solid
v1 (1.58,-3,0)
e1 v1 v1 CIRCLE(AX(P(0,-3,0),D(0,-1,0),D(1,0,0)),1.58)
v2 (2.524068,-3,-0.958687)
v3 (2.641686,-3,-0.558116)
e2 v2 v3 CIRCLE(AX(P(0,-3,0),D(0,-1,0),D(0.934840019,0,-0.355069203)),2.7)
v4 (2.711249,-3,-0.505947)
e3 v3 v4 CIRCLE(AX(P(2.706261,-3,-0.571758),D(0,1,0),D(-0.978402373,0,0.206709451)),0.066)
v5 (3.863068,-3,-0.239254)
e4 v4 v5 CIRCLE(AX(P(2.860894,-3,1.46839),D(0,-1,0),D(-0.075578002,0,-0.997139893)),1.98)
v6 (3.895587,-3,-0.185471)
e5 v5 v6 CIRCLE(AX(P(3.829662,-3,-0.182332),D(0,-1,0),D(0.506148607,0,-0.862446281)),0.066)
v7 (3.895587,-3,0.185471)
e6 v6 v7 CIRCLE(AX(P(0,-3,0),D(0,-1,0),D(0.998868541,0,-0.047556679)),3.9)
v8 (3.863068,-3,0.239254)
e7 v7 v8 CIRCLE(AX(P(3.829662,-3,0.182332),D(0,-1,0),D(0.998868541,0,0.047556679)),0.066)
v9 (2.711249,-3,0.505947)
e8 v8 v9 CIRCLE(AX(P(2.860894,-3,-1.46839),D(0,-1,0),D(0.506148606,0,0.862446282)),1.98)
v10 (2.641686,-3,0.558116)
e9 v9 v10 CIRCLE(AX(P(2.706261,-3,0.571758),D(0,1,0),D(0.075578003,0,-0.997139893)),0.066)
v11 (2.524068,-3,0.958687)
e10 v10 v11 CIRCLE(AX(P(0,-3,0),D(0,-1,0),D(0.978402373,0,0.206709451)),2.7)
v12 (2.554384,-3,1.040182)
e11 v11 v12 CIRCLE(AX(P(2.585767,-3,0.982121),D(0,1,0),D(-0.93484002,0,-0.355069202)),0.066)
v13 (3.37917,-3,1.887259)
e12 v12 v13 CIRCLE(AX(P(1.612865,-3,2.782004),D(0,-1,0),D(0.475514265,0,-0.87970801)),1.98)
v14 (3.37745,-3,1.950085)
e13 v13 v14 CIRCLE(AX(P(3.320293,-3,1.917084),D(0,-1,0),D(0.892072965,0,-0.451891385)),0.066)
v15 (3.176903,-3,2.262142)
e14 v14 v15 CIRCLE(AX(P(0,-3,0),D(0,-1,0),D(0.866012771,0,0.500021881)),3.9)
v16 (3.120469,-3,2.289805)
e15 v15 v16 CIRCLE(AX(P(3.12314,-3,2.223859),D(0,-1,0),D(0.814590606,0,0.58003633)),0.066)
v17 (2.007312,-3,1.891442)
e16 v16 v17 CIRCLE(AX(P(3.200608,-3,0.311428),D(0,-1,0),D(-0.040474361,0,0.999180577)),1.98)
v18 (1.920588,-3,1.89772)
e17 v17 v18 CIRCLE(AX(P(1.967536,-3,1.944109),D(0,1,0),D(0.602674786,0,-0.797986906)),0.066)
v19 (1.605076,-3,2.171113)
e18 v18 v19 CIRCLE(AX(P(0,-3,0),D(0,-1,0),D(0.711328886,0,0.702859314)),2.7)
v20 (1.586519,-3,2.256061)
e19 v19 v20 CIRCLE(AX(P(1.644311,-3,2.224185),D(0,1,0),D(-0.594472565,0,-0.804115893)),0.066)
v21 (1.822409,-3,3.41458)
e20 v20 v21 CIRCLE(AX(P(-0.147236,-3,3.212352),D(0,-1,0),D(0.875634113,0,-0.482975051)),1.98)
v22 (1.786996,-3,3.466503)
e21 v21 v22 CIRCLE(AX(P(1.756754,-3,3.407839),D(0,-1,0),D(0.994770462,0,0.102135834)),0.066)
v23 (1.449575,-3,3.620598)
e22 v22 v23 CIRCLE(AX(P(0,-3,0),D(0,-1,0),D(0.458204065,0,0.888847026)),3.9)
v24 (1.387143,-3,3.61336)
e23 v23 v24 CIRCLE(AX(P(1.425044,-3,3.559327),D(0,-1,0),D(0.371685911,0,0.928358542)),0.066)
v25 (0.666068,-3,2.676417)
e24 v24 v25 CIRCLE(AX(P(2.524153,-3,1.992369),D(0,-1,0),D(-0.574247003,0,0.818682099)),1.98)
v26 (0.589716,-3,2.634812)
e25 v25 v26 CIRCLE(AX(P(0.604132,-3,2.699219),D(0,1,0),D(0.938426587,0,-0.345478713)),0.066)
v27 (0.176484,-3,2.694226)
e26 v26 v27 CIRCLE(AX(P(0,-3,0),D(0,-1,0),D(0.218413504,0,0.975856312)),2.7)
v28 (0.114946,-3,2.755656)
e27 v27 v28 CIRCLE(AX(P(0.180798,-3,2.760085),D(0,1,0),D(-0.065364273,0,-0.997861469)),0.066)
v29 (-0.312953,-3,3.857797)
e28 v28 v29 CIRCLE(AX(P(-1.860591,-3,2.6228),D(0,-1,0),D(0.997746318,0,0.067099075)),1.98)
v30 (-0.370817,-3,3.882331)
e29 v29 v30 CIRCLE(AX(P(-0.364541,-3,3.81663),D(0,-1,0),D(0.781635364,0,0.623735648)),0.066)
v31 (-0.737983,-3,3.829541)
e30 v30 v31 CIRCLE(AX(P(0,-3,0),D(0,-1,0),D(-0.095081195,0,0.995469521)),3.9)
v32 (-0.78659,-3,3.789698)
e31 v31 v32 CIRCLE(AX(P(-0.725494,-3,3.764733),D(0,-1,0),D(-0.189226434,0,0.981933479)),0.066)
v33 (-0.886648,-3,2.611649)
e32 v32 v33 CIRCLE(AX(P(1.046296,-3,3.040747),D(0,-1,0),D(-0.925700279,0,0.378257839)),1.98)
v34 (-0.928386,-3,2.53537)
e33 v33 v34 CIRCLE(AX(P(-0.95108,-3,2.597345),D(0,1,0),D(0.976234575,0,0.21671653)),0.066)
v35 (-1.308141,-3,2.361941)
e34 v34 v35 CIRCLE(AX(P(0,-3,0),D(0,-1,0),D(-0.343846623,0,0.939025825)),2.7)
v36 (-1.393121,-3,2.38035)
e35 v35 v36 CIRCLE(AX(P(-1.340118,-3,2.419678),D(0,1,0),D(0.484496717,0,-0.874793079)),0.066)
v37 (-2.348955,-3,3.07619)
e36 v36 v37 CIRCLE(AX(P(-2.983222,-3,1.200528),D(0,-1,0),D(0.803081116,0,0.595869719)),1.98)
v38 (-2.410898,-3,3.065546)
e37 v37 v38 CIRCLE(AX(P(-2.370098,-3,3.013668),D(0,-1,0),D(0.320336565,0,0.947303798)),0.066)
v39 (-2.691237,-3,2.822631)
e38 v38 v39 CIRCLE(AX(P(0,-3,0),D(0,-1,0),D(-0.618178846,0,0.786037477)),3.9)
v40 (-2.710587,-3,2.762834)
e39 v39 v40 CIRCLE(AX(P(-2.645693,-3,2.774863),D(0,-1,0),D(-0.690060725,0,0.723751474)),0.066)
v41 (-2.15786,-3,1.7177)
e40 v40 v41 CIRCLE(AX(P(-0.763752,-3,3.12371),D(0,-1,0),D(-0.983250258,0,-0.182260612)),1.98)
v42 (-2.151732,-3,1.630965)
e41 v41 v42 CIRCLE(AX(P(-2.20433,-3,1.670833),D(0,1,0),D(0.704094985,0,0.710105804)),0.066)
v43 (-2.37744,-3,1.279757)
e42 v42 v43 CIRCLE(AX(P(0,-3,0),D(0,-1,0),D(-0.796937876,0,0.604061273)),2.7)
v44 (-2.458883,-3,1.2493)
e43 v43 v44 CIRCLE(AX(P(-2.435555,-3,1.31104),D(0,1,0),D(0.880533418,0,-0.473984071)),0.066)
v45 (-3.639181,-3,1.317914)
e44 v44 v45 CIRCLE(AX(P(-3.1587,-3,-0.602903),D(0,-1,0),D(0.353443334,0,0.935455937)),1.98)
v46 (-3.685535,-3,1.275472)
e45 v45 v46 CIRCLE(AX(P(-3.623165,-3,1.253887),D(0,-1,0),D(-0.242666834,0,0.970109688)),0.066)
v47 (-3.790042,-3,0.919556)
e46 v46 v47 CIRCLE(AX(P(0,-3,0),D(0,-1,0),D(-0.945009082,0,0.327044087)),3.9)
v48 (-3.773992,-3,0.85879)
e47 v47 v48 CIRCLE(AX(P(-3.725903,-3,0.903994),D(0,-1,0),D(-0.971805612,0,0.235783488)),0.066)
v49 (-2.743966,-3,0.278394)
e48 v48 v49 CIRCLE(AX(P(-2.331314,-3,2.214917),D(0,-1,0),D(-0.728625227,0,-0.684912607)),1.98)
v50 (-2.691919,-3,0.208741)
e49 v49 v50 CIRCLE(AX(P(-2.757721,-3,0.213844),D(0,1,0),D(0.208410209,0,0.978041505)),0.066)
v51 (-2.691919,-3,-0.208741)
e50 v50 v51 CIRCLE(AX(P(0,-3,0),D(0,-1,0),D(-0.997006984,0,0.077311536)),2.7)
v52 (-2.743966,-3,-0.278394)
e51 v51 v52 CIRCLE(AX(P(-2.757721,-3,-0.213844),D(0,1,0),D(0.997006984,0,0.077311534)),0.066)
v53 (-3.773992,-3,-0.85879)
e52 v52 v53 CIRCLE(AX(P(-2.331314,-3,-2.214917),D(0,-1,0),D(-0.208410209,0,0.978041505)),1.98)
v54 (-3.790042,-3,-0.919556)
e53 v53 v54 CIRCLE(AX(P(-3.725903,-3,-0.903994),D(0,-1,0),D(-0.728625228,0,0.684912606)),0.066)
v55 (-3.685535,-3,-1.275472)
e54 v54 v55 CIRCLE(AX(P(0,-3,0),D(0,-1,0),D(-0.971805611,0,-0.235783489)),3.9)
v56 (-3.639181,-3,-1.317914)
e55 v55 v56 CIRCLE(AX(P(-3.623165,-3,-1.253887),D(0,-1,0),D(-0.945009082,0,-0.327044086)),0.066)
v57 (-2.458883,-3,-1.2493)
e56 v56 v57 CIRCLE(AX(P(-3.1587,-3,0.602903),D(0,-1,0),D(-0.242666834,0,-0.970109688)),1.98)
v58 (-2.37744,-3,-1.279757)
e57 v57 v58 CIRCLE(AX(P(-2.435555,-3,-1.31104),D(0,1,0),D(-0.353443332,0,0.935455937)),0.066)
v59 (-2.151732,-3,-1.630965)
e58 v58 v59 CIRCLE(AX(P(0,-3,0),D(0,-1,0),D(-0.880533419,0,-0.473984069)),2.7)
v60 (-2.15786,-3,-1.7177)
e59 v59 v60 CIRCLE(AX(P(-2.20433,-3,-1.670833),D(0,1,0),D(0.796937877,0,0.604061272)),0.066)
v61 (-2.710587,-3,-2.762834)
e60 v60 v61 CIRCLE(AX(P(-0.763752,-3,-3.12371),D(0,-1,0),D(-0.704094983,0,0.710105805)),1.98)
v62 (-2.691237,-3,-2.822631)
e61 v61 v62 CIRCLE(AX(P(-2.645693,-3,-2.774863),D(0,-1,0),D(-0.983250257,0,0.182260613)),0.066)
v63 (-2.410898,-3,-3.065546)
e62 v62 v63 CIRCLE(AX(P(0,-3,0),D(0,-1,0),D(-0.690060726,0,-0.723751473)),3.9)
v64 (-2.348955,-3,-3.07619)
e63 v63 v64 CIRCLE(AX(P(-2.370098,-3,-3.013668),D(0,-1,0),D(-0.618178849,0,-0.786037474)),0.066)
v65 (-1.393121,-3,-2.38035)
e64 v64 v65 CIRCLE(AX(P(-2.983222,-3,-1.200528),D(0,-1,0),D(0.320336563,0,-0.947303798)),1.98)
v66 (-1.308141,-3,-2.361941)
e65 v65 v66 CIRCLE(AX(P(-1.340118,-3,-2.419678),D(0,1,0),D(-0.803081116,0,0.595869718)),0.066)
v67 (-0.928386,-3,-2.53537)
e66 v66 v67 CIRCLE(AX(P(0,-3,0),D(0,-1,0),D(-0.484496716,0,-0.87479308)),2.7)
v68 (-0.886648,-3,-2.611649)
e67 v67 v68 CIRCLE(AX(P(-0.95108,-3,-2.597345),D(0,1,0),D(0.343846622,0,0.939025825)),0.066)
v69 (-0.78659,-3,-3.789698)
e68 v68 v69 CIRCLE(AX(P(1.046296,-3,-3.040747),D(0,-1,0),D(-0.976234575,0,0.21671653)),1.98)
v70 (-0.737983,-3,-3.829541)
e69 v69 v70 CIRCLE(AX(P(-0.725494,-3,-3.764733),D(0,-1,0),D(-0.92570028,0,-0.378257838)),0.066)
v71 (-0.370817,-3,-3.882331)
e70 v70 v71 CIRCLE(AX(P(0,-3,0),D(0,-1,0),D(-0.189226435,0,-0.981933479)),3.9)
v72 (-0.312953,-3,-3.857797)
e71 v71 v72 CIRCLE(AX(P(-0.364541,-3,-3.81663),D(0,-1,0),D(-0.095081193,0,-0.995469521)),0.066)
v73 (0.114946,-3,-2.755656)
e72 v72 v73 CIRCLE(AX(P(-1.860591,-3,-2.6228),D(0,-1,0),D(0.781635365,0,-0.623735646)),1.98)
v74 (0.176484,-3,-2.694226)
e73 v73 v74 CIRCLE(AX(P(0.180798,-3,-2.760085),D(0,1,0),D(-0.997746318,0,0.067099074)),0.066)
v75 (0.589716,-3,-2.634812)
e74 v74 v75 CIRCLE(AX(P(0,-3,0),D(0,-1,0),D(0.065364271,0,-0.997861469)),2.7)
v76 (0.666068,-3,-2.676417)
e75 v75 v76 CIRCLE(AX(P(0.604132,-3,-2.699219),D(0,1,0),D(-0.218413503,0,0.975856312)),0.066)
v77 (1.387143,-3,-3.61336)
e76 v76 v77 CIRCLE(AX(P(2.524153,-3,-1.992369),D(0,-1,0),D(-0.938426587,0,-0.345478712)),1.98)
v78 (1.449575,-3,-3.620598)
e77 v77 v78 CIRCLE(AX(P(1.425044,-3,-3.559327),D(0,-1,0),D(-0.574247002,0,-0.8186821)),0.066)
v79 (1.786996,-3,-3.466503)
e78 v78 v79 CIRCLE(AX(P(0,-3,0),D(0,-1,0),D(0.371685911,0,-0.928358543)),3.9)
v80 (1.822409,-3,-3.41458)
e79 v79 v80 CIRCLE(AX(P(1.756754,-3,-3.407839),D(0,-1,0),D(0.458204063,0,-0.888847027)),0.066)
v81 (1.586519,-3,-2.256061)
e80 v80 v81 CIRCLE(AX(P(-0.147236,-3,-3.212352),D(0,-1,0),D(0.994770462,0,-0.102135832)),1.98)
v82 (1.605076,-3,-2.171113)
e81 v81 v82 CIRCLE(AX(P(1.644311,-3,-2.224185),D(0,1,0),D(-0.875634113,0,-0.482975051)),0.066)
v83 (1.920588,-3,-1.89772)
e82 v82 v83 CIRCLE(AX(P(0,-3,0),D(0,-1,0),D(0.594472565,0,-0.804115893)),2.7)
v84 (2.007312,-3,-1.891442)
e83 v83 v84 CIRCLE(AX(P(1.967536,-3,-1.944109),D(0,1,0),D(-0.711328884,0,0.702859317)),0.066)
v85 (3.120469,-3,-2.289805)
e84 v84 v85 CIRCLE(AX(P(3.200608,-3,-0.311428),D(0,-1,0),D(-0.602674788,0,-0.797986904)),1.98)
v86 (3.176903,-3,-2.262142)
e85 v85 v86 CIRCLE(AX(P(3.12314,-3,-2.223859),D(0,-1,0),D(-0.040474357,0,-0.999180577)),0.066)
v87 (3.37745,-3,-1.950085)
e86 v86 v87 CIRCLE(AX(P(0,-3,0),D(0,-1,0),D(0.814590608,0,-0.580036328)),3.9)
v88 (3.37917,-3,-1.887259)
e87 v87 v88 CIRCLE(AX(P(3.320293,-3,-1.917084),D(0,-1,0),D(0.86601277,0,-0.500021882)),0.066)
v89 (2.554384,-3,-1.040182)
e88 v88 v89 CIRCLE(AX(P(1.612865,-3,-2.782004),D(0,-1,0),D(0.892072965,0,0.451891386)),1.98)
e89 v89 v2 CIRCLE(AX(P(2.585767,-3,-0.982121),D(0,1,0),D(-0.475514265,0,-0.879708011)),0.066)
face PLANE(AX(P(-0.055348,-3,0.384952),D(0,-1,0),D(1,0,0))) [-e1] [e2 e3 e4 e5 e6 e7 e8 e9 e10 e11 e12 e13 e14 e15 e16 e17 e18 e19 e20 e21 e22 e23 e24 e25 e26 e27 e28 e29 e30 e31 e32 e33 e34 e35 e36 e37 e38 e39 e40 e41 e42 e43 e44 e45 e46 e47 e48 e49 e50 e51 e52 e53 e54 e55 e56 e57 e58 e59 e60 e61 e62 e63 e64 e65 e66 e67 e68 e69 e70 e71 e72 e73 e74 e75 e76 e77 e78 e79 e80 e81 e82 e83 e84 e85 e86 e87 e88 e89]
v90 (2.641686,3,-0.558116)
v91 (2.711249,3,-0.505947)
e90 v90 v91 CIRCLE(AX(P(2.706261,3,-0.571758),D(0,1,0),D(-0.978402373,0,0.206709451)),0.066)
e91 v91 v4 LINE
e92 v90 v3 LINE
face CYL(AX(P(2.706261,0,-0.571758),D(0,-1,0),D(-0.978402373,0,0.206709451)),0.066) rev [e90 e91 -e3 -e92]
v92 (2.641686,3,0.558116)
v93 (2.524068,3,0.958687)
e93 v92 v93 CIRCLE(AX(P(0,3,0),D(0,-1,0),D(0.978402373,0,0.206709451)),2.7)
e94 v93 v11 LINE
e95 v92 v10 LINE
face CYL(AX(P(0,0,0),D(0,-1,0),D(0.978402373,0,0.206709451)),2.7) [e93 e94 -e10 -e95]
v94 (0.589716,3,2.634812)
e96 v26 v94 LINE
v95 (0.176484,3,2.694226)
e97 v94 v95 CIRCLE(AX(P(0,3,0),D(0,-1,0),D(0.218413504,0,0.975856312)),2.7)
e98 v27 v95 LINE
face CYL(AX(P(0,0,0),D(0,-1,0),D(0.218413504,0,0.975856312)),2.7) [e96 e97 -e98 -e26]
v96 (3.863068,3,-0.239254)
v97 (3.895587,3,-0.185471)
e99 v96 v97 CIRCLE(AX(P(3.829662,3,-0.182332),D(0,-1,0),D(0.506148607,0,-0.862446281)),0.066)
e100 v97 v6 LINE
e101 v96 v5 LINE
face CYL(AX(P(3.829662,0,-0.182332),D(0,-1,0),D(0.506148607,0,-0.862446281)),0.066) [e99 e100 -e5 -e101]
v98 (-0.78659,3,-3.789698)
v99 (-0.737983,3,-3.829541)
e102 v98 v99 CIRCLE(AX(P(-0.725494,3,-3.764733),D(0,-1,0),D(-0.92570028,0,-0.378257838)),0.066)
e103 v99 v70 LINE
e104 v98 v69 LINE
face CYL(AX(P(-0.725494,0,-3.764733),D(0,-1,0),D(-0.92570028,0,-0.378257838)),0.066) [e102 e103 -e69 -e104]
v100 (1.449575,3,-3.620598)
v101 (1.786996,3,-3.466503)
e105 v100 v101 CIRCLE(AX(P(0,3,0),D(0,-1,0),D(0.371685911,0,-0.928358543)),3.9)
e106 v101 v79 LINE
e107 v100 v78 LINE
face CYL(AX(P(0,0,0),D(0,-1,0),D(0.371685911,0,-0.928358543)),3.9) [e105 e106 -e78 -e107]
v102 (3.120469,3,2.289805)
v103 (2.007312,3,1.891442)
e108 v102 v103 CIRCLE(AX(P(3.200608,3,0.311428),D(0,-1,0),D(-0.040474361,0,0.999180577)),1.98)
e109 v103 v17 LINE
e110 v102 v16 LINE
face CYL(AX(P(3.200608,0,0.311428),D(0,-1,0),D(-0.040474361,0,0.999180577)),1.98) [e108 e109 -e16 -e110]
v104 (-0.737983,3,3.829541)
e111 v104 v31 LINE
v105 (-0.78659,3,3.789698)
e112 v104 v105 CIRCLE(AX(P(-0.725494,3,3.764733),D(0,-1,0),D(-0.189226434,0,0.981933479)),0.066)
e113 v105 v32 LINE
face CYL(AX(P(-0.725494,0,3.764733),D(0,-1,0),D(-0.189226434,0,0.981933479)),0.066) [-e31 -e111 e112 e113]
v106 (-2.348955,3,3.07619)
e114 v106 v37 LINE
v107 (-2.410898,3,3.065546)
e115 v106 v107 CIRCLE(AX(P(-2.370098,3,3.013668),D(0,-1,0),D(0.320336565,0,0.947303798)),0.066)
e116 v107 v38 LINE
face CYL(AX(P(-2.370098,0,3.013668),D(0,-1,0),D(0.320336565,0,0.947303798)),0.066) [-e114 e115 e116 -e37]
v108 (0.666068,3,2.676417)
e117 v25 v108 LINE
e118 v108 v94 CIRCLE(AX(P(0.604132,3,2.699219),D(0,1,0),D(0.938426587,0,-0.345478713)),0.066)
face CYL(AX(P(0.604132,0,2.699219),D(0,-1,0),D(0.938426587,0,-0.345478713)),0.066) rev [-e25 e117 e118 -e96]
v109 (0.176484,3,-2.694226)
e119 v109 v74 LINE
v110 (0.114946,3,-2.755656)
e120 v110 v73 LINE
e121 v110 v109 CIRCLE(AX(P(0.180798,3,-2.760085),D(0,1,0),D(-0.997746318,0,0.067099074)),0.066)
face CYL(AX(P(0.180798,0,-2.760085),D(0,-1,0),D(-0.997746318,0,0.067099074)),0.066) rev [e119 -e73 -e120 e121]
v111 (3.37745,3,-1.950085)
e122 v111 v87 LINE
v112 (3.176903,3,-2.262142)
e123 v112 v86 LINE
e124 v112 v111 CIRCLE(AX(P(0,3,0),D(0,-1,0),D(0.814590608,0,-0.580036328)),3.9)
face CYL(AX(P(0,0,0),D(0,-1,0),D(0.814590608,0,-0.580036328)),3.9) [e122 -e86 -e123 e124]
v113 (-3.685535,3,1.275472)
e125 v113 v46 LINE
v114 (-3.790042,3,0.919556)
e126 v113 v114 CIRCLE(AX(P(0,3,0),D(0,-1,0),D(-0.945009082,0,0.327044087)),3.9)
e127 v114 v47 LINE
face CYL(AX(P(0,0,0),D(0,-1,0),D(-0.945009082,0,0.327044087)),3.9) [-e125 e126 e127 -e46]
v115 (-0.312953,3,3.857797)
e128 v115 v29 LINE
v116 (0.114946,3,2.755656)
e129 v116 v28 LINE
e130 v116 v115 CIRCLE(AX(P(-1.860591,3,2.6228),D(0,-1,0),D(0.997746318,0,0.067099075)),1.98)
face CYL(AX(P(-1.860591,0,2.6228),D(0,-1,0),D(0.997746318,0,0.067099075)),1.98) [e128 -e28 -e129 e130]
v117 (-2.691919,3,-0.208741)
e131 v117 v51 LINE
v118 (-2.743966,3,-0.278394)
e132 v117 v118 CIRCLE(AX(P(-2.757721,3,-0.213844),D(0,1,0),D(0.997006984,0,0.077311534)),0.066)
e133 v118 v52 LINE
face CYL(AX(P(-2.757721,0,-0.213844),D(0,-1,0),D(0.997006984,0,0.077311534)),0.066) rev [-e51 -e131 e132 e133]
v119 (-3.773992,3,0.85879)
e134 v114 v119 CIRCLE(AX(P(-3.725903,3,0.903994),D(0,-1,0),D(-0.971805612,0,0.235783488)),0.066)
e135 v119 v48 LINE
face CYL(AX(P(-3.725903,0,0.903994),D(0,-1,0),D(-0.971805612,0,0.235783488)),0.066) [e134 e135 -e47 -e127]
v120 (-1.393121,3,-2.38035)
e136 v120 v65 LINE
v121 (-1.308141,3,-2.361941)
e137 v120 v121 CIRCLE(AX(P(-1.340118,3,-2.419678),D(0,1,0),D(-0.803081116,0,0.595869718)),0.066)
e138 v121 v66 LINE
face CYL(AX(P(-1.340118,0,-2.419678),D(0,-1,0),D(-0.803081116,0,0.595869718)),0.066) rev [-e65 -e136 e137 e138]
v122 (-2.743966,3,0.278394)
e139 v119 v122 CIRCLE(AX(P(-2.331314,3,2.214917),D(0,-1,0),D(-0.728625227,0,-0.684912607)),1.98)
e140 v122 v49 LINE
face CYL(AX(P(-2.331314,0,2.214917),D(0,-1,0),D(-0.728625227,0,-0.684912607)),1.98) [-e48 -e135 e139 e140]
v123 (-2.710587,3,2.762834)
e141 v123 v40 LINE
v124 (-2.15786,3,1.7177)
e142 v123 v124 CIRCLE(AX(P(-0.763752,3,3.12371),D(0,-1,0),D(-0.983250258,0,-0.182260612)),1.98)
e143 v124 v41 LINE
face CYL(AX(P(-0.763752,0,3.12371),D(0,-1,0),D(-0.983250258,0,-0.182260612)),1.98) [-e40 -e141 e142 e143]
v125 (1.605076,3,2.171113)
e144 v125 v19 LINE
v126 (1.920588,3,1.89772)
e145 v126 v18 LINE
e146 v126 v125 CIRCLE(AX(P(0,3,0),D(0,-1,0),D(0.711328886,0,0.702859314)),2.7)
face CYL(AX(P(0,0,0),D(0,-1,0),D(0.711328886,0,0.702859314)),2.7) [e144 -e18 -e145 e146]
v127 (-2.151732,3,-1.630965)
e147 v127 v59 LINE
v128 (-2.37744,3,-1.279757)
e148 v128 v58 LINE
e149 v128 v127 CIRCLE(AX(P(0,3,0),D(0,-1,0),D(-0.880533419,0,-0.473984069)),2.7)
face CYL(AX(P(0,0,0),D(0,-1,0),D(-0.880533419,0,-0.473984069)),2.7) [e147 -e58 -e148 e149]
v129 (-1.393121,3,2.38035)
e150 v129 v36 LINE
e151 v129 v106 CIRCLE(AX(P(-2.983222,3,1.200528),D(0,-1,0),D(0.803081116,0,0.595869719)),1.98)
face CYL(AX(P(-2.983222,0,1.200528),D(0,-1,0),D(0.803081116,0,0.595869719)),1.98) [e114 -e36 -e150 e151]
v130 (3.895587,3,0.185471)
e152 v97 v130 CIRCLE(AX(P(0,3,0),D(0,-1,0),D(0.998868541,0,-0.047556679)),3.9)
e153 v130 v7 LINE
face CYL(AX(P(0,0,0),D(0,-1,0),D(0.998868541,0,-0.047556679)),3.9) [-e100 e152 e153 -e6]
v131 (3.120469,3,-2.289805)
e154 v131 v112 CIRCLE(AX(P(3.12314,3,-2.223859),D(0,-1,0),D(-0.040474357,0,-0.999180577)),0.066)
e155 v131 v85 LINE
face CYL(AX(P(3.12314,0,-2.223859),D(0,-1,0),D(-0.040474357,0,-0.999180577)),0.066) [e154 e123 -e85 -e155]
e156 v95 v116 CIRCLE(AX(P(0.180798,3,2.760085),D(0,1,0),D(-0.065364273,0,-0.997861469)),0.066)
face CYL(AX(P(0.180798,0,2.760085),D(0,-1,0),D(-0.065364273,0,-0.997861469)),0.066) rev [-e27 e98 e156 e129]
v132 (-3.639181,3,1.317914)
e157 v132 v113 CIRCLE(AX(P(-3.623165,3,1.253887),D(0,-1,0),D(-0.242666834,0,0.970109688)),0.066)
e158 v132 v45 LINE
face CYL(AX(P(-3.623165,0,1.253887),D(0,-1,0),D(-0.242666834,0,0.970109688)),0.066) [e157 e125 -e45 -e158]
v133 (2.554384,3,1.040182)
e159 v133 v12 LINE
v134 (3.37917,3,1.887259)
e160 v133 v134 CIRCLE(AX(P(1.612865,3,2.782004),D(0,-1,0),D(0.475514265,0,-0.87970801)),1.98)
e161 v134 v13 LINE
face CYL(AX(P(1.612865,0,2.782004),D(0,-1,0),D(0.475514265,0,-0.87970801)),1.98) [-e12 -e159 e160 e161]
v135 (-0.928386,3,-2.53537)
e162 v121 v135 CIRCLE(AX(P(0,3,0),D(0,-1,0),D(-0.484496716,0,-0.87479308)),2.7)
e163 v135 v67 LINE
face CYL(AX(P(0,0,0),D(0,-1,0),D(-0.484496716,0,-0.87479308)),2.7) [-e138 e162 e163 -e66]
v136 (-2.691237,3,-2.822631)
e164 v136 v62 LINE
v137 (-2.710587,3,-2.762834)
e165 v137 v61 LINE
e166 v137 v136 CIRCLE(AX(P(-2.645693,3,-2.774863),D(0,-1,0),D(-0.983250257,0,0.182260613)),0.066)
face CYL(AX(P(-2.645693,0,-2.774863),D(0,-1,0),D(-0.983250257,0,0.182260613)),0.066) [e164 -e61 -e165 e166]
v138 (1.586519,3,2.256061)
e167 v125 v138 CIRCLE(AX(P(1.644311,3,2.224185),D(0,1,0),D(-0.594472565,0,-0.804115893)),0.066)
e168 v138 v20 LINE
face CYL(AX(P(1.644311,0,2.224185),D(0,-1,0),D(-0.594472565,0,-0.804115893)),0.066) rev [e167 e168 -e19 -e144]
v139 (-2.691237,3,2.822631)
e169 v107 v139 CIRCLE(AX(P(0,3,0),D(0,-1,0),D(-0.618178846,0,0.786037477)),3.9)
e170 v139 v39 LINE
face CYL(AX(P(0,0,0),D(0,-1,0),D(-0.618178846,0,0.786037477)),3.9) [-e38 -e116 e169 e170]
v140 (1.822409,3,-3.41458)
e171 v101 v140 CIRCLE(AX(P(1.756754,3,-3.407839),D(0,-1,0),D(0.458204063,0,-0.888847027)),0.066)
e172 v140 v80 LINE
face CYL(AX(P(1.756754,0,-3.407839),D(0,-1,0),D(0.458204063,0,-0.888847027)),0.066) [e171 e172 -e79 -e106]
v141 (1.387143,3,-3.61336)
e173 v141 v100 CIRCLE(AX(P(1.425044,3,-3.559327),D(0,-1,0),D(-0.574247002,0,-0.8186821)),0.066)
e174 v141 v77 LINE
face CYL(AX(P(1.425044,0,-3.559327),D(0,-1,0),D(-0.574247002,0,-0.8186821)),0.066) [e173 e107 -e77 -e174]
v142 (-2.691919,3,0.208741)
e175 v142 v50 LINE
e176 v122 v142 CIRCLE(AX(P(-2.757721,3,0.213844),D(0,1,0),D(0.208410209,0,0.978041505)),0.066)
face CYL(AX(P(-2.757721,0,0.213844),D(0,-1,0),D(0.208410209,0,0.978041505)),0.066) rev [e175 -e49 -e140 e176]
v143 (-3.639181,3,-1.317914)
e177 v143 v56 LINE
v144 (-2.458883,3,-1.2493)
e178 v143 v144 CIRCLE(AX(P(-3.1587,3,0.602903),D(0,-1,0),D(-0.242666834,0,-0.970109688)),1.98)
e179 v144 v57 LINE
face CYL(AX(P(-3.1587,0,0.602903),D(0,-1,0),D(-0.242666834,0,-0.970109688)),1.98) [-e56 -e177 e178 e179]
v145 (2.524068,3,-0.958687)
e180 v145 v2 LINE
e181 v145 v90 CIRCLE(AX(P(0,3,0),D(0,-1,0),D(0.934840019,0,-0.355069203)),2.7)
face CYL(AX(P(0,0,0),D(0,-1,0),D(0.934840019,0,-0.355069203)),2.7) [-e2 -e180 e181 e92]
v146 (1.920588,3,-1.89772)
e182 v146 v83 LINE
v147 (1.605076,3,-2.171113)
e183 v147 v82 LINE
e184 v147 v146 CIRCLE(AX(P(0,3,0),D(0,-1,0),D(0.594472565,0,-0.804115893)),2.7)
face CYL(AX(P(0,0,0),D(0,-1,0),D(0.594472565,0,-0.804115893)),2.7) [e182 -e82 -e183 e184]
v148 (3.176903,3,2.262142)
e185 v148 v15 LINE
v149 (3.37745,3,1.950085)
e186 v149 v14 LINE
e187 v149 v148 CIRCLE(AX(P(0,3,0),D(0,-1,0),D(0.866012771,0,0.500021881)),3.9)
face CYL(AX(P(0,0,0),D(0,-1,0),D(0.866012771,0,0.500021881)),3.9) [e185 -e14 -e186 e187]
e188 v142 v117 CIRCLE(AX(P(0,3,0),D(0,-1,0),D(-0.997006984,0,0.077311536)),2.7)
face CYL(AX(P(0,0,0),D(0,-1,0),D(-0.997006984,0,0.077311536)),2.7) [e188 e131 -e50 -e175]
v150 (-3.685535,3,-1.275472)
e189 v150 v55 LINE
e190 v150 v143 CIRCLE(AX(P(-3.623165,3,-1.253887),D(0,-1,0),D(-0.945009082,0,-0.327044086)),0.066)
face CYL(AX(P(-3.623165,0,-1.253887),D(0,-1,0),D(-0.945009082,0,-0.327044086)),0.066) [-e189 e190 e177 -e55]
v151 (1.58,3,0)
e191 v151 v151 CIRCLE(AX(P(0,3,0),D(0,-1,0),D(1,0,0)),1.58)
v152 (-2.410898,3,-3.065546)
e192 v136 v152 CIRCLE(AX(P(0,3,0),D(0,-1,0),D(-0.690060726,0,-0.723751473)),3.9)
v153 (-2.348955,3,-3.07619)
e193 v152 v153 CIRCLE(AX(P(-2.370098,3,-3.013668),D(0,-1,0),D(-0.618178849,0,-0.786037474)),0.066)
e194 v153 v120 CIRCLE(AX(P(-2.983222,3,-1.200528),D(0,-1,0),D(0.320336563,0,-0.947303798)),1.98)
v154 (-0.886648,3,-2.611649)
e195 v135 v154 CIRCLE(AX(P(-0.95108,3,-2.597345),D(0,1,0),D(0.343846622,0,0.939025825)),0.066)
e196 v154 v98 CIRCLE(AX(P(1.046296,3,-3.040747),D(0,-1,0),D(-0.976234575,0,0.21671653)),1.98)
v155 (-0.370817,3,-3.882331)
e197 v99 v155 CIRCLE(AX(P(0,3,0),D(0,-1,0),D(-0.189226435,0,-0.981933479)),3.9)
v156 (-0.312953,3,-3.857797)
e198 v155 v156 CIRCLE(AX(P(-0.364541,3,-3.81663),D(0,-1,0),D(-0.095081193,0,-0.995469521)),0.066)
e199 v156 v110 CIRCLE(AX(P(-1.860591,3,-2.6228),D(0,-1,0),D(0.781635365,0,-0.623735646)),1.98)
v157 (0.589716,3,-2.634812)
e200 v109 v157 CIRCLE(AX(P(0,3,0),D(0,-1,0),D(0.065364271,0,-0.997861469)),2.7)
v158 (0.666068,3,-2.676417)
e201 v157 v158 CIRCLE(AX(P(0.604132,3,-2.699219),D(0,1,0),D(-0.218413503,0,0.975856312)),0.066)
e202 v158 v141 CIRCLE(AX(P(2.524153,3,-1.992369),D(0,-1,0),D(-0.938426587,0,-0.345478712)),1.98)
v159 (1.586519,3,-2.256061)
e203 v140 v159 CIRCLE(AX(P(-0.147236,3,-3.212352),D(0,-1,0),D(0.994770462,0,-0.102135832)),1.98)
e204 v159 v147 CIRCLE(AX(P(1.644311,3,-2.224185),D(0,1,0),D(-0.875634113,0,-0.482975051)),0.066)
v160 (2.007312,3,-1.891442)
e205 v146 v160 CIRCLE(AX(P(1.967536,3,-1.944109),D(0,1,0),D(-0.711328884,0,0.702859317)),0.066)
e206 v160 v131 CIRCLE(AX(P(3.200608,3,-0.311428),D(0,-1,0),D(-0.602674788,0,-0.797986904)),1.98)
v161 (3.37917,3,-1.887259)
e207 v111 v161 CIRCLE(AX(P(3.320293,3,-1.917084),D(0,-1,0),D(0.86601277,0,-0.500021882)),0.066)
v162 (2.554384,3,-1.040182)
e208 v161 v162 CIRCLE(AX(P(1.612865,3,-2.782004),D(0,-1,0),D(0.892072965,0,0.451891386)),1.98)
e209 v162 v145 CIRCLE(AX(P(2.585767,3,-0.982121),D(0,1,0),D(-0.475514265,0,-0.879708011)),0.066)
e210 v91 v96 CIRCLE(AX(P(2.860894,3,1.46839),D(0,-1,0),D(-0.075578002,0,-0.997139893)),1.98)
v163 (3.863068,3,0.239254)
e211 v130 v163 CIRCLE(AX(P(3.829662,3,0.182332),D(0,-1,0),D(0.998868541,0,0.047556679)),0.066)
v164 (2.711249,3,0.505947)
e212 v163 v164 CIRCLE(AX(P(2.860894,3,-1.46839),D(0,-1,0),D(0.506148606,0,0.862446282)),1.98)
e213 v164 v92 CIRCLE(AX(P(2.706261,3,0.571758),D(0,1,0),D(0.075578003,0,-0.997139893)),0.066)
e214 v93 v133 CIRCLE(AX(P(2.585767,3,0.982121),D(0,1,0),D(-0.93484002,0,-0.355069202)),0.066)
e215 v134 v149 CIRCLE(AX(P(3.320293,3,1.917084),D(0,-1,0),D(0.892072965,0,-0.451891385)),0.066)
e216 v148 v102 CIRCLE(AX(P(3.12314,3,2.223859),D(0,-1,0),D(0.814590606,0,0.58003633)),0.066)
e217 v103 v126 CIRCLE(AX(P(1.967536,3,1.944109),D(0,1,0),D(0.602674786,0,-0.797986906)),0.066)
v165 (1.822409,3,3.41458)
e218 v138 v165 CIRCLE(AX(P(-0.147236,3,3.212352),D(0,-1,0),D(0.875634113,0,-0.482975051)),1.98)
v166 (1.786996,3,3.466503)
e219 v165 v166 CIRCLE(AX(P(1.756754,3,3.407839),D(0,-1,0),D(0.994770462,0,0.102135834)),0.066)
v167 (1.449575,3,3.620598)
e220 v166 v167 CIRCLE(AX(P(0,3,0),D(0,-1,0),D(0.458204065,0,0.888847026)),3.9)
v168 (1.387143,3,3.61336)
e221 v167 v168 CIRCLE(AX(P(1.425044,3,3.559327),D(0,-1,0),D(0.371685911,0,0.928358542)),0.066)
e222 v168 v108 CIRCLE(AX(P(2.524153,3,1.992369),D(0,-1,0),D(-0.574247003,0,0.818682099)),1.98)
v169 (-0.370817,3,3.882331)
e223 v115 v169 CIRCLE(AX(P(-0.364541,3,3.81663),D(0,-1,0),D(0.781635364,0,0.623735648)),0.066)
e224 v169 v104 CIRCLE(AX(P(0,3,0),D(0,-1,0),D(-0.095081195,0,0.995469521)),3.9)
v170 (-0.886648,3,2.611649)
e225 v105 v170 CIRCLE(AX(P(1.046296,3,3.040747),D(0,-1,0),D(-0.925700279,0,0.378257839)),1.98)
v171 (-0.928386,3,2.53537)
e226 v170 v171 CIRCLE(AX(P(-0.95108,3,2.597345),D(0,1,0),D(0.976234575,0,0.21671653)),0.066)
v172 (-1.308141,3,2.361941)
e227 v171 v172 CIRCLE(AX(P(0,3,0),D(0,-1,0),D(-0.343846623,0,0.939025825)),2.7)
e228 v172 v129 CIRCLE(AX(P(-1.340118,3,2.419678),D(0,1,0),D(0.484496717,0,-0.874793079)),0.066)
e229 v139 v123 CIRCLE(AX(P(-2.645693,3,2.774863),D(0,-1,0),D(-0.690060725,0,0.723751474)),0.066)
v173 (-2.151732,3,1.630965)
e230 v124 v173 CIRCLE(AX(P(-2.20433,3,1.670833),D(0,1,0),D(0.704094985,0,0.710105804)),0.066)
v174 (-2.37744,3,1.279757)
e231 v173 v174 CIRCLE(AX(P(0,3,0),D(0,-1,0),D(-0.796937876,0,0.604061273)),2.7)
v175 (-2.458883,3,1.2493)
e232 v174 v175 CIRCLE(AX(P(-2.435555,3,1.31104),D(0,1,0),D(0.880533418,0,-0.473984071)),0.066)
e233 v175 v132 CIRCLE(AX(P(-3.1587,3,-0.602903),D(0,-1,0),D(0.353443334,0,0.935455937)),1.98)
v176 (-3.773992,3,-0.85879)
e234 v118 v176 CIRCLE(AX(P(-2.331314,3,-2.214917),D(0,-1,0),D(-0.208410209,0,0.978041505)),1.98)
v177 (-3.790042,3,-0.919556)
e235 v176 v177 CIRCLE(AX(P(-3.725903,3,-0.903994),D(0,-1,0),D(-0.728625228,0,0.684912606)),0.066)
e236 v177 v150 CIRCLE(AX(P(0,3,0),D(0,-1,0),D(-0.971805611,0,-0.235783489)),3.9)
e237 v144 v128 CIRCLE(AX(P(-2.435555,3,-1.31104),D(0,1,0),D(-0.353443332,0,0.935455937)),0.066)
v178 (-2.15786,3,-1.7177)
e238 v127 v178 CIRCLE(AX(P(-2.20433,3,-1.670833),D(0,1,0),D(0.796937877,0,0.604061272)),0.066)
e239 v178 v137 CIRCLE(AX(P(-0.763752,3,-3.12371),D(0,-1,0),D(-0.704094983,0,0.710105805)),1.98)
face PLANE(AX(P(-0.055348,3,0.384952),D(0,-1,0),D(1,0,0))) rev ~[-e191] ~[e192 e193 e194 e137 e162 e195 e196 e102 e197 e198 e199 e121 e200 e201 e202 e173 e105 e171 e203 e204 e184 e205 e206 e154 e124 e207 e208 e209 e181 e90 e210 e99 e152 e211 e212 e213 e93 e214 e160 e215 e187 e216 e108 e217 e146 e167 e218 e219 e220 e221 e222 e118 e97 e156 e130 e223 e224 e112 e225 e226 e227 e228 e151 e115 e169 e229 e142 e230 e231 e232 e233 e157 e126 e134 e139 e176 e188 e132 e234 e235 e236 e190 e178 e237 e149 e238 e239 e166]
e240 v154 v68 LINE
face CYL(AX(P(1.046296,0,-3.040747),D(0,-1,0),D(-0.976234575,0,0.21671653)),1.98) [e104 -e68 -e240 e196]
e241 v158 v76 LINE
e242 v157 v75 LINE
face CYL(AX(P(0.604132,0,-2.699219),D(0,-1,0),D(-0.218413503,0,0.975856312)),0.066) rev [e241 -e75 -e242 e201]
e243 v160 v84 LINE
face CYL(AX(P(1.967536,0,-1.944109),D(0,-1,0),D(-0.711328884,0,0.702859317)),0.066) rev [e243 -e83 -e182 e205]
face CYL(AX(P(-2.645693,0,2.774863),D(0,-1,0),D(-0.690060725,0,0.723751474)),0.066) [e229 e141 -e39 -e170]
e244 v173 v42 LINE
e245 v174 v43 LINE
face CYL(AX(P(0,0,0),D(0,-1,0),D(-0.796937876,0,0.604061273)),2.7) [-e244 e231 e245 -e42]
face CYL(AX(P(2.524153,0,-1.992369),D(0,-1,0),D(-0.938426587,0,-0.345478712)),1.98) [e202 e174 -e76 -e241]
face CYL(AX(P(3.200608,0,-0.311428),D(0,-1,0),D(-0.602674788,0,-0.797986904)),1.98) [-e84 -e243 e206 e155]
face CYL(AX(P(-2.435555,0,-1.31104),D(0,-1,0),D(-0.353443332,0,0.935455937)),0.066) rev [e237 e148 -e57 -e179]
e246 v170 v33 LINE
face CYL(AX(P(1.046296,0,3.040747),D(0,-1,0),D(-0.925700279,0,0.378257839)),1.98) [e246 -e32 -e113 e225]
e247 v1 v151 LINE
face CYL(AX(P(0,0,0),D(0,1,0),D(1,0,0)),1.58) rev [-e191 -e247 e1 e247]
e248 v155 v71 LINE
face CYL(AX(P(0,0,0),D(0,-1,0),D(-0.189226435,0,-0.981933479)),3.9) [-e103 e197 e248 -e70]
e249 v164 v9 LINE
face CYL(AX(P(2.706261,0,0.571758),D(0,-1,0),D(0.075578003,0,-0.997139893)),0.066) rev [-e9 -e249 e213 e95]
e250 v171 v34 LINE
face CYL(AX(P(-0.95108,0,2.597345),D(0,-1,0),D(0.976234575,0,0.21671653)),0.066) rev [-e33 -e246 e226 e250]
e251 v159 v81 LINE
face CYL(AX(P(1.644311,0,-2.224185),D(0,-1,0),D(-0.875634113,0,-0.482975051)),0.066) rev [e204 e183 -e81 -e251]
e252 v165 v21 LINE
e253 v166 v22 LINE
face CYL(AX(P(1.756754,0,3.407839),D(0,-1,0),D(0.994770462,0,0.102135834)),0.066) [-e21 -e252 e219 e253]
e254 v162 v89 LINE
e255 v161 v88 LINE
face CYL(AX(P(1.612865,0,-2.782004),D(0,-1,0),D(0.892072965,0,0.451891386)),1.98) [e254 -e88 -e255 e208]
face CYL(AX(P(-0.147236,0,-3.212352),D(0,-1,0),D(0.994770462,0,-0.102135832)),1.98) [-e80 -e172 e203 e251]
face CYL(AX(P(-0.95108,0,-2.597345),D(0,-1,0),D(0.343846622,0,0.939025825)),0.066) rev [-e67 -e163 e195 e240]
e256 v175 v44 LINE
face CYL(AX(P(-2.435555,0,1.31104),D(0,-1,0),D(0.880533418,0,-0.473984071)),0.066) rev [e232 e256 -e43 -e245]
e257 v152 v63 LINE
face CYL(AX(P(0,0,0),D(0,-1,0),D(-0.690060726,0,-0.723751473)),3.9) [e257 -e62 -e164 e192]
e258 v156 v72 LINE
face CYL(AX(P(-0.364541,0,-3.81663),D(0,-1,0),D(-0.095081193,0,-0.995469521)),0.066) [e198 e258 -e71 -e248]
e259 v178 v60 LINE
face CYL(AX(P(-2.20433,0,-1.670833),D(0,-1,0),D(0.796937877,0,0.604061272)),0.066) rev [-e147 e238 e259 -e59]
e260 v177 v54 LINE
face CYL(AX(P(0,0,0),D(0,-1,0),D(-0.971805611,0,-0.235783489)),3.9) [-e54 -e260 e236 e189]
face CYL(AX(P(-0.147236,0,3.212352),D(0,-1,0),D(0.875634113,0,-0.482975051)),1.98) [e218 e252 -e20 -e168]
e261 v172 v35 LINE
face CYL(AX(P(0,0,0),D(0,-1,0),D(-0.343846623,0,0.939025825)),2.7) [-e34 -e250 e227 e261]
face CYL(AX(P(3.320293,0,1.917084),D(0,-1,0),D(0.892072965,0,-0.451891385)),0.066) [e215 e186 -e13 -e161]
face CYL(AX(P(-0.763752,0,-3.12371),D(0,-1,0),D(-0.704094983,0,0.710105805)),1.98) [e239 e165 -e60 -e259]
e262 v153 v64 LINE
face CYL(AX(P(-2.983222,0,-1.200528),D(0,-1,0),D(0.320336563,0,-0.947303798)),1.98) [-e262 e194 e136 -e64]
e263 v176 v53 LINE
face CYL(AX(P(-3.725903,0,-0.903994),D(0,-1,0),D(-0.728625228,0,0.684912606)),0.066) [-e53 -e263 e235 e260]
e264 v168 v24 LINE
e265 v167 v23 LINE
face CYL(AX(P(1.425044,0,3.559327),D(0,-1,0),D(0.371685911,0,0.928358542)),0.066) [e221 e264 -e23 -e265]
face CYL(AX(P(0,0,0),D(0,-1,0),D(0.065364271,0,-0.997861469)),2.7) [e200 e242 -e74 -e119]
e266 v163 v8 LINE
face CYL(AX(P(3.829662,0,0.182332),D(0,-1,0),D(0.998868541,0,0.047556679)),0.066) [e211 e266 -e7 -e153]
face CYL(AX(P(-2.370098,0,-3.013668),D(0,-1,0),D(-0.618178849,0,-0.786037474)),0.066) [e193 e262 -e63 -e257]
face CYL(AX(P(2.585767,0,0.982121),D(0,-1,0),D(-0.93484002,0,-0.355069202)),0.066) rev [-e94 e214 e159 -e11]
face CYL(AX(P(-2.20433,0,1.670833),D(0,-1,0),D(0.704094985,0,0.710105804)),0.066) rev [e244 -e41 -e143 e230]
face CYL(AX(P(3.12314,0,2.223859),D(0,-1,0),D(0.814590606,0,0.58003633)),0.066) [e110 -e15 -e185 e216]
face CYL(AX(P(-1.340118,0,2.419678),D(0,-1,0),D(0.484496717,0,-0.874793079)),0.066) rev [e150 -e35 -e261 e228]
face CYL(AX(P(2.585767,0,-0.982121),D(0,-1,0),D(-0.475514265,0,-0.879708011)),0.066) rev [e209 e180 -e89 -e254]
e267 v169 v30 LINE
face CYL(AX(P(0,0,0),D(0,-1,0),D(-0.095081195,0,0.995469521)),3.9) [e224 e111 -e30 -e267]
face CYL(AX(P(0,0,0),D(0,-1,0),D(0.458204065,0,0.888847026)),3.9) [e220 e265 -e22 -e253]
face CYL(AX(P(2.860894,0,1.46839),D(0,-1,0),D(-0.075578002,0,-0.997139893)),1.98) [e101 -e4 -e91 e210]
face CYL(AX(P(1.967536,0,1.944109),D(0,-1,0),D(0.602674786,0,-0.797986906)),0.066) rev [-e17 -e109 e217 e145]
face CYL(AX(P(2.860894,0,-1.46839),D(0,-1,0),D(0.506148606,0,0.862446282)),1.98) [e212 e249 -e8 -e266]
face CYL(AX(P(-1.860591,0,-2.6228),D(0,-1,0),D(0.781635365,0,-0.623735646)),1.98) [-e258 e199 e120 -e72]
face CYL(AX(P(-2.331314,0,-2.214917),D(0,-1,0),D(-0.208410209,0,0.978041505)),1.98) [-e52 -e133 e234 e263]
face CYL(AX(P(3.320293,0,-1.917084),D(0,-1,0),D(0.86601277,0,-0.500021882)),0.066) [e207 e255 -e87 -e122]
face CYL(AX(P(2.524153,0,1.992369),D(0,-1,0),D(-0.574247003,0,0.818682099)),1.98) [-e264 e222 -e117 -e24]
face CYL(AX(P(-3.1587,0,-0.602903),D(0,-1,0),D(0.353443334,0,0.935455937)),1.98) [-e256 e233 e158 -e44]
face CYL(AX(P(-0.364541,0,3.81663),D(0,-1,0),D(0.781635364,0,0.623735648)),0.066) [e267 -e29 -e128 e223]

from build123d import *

# Parameters (mm, degrees)
F0_R     = 1.58
F1_DEPTH = 3


with BuildPart() as f1:
    # F0 (on Front) → F1 (new body, symmetric)
    with BuildSketch(Plane.XZ):
        with BuildLine():
            ThreePointArc((0.1764835345, 2.6942259671), (0.1341691164, 2.7133752243), (0.1149463195, 2.7556562852))
            ThreePointArc((0.1149463195, 2.7556562852), (-0.0148204986, 3.3394100657), (-0.3129533658, 3.8577966946))
            ThreePointArc((-0.3129533658, 3.8577966946), (-0.3387771387, 3.8773936836), (-0.3708166587, 3.8823311303))
            ThreePointArc((-0.3708166587, 3.8823311303), (-0.5550278693, 3.8603036233), (-0.7379830973, 3.8295405662))
            ThreePointArc((-0.7379830973, 3.8295405662), (-0.7673337522, 3.8157765449), (-0.786590371, 3.789697974))
            ThreePointArc((-0.786590371, 3.789697974), (-0.9266003718, 3.2083159111), (-0.8866482769, 2.6116487228))
            ThreePointArc((-0.8866482769, 2.6116487228), (-0.8931804641, 2.5656646543), (-0.9283858818, 2.5353697274))
            ThreePointArc((-0.9283858818, 2.5353697274), (-1.1216205351, 2.4560063875), (-1.3081411324, 2.3619413155))
            ThreePointArc((-1.3081411324, 2.3619413155), (-1.7681239817, 2.0405238508), (-2.1517322648, 1.6309654382))
            ThreePointArc((-2.1517322648, 1.6309654382), (-2.2713845386, 1.4597302071), (-2.3774402326, 1.2797569848))
            ThreePointArc((-2.3774402326, 1.2797569848), (-2.5906310288, 0.7606779035), (-2.6919188572, 0.2087411462))
            ThreePointArc((-2.6919188572, 0.2087411462), (-2.7, 0), (-2.6919188572, -0.2087411462))
            ThreePointArc((-2.6919188572, -0.2087411462), (-2.5906310288, -0.7606779035), (-2.3774402326, -1.2797569848))
            ThreePointArc((-2.3774402326, -1.2797569848), (-2.2713845386, -1.4597302071), (-2.1517322648, -1.6309654382))
            ThreePointArc((-2.1517322648, -1.6309654382), (-1.7681239817, -2.0405238508), (-1.3081411324, -2.3619413155))
            ThreePointArc((-1.3081411324, -2.3619413155), (-1.1216205351, -2.4560063875), (-0.9283858818, -2.5353697274))
            ThreePointArc((-0.9283858818, -2.5353697274), (-0.3842500633, -2.6725178931), (0.1764835345, -2.6942259671))
            ThreePointArc((0.1764835345, -2.6942259671), (0.3842500633, -2.6725178931), (0.5897164591, -2.6348120422))
            ThreePointArc((0.5897164591, -2.6348120422), (1.1216205351, -2.4560063875), (1.6050759262, -2.1711129107))
            ThreePointArc((1.6050759262, -2.1711129107), (1.7681239817, -2.0405238508), (1.9205879909, -1.8977201503))
            ThreePointArc((1.9205879909, -1.8977201503), (2.2713845386, -1.4597302071), (2.5240680522, -0.9586868455))
            ThreePointArc((2.5240680522, -0.9586868455), (2.5906310288, -0.7606779035), (2.6416864059, -0.5581155194))
            ThreePointArc((2.6416864059, -0.5581155194), (2.7, 0), (2.6416864059, 0.5581155194))
            ThreePointArc((2.6416864059, 0.5581155194), (2.5906310288, 0.7606779035), (2.5240680522, 0.9586868455))
            ThreePointArc((2.5240680522, 0.9586868455), (2.2713845386, 1.4597302071), (1.9205879909, 1.8977201503))
            ThreePointArc((1.9205879909, 1.8977201503), (1.7681239817, 2.0405238508), (1.6050759262, 2.1711129107))
            ThreePointArc((1.6050759262, 2.1711129107), (1.1216205351, 2.4560063875), (0.5897164591, 2.6348120422))
            ThreePointArc((0.5897164591, 2.6348120422), (0.3842500633, 2.6725178931), (0.1764835345, 2.6942259671))
        make_face()
        Circle(F0_R, mode=Mode.SUBTRACT)
        with BuildLine():
            ThreePointArc((0.6660679051, 2.6764169638), (0.6357118151, 2.6412642707), (0.5897164591, 2.6348120422))
            ThreePointArc((0.5897164591, 2.6348120422), (1.1216205351, 2.4560063875), (1.6050759262, 2.1711129107))
            ThreePointArc((1.6050759262, 2.1711129107), (1.5798316425, 2.2100991926), (1.586519264, 2.256060913))
            ThreePointArc((1.586519264, 2.256060913), (1.7929535909, 2.8173030819), (1.822409234, 3.4145804618))
            ThreePointArc((1.822409234, 3.4145804618), (1.811279826, 3.4450278837), (1.7869958517, 3.4665034005))
            ThreePointArc((1.7869958517, 3.4665034005), (1.6201185507, 3.5475647819), (1.4495750544, 3.6205983154))
            ThreePointArc((1.4495750544, 3.6205983154), (1.4174423205, 3.6248874459), (1.3871434821, 3.6133596702))
            ThreePointArc((1.3871434821, 3.6133596702), (0.9550407005, 3.1999650771), (0.6660679051, 2.6764169638))
        make_face()
        with BuildLine():
            ThreePointArc((2.0073122334, 1.8914417294), (1.9627700848, 1.8782811435), (1.9205879909, 1.8977201503))
            ThreePointArc((1.9205879909, 1.8977201503), (2.2713845386, 1.4597302071), (2.5240680522, 0.9586868455))
            ThreePointArc((2.5240680522, 0.9586868455), (2.5239087847, 1.005132283), (2.554383552, 1.0401821415))
            ThreePointArc((2.554383552, 1.0401821415), (3.0314775838, 1.4007222756), (3.3791697785, 1.8872590586))
            ThreePointArc((3.3791697785, 1.8872590586), (3.3862682438, 1.9188900721), (3.3774498056, 1.9500853342))
            ThreePointArc((3.3774498056, 1.9500853342), (3.280888778, 2.1084991881), (3.1769033686, 2.2621416814))
            ThreePointArc((3.1769033686, 2.2621416814), (3.1521904717, 2.2831221951), (3.1204690807, 2.2898052019))
            ThreePointArc((3.1204690807, 2.2898052019), (2.5334630984, 2.175647941), (2.0073122334, 1.8914417294))
        make_face()
        with BuildLine():
            ThreePointArc((2.7112491106, 0.5059471103), (2.6666627208, 0.5189570245), (2.6416864059, 0.5581155194))
            ThreePointArc((2.6416864059, 0.5581155194), (2.7, 0), (2.6416864059, -0.5581155194))
            ThreePointArc((2.6416864059, -0.5581155194), (2.6666627208, -0.5189570245), (2.7112491106, -0.5059471103))
            ThreePointArc((2.7112491106, -0.5059471103), (3.3075288632, -0.4605779561), (3.8630677944, -0.2392537609))
            ThreePointArc((3.8630677944, -0.2392537609), (3.8861404204, -0.2164817791), (3.8955873101, -0.1854710471))
            ThreePointArc((3.8955873101, -0.1854710471), (3.9, 0), (3.8955873101, 0.1854710471))
            ThreePointArc((3.8955873101, 0.1854710471), (3.8861404204, 0.2164817791), (3.8630677944, 0.2392537609))
            ThreePointArc((3.8630677944, 0.2392537609), (3.3075288632, 0.4605779561), (2.7112491106, 0.5059471103))
        make_face()
        with BuildLine():
            ThreePointArc((-2.1517322648, 1.6309654382), (-1.7681239817, 2.0405238508), (-1.3081411324, 2.3619413155))
            ThreePointArc((-1.3081411324, 2.3619413155), (-1.3540911561, 2.3551737941), (-1.3931212693, 2.3803502573))
            ThreePointArc((-1.3931212693, 2.3803502573), (-1.8178891846, 2.8012779489), (-2.3489554831, 3.0761897348))
            ThreePointArc((-2.3489554831, 3.0761897348), (-2.3812747555, 3.0787143854), (-2.4108975001, 3.0655461575))
            ThreePointArc((-2.4108975001, 3.0655461575), (-2.5539568624, 2.94742334), (-2.69123683, 2.8226307454))
            ThreePointArc((-2.69123683, 2.8226307454), (-2.7084867804, 2.7951835518), (-2.7105873391, 2.7628339478))
            ThreePointArc((-2.7105873391, 2.7628339478), (-2.5140523732, 2.1980491121), (-2.1578598957, 1.7177004654))
            ThreePointArc((-2.1578598957, 1.7177004654), (-2.1384942569, 1.6754846382), (-2.1517322648, 1.6309654382))
        make_face()
        with BuildLine():
            ThreePointArc((2.554383552, -1.0401821415), (2.5239087847, -1.005132283), (2.5240680522, -0.9586868455))
            ThreePointArc((2.5240680522, -0.9586868455), (2.2713845386, -1.4597302071), (1.9205879909, -1.8977201503))
            ThreePointArc((1.9205879909, -1.8977201503), (1.9627700848, -1.8782811435), (2.0073122334, -1.8914417294))
            ThreePointArc((2.0073122334, -1.8914417294), (2.5334630984, -2.175647941), (3.1204690807, -2.2898052019))
            ThreePointArc((3.1204690807, -2.2898052019), (3.1521904717, -2.2831221951), (3.1769033686, -2.2621416814))
            ThreePointArc((3.1769033686, -2.2621416814), (3.280888778, -2.1084991881), (3.3774498056, -1.9500853342))
            ThreePointArc((3.3774498056, -1.9500853342), (3.3862682438, -1.9188900721), (3.3791697785, -1.8872590586))
            ThreePointArc((3.3791697785, -1.8872590586), (3.0314775838, -1.4007222756), (2.554383552, -1.0401821415))
        make_face()
        with BuildLine():
            ThreePointArc((-2.6919188572, 0.2087411462), (-2.5906310288, 0.7606779035), (-2.3774402326, 1.2797569848))
            ThreePointArc((-2.3774402326, 1.2797569848), (-2.4124370542, 1.2492213252), (-2.4588826984, 1.2492998415))
            ThreePointArc((-2.4588826984, 1.2492998415), (-3.043790899, 1.3737598761), (-3.6391808315, 1.3179142695))
            ThreePointArc((-3.6391808315, 1.3179142695), (-3.6677344627, 1.3025650229), (-3.6855354198, 1.2754719398))
            ThreePointArc((-3.6855354198, 1.2754719398), (-3.7420225971, 1.0987569717), (-3.7900418845, 0.9195556068))
            ThreePointArc((-3.7900418845, 0.9195556068), (-3.789714393, 0.8871395309), (-3.7739919791, 0.8587896644))
            ThreePointArc((-3.7739919791, 0.8587896644), (-3.3033105094, 0.4899172508), (-2.7439662444, 0.2783944468))
            ThreePointArc((-2.7439662444, 0.2783944468), (-2.704851233, 0.2533500879), (-2.6919188572, 0.2087411462))
        make_face()
        with BuildLine():
            ThreePointArc((1.586519264, -2.256060913), (1.5798316425, -2.2100991926), (1.6050759262, -2.1711129107))
            ThreePointArc((1.6050759262, -2.1711129107), (1.1216205351, -2.4560063875), (0.5897164591, -2.6348120422))
            ThreePointArc((0.5897164591, -2.6348120422), (0.6357118151, -2.6412642707), (0.6660679051, -2.6764169638))
            ThreePointArc((0.6660679051, -2.6764169638), (0.9550407005, -3.1999650771), (1.3871434821, -3.6133596702))
            ThreePointArc((1.3871434821, -3.6133596702), (1.4174423205, -3.6248874459), (1.4495750544, -3.6205983154))
            ThreePointArc((1.4495750544, -3.6205983154), (1.6201185507, -3.5475647819), (1.7869958517, -3.4665034005))
            ThreePointArc((1.7869958517, -3.4665034005), (1.811279826, -3.4450278837), (1.822409234, -3.4145804618))
            ThreePointArc((1.822409234, -3.4145804618), (1.7929535909, -2.8173030819), (1.586519264, -2.256060913))
        make_face()
        with BuildLine():
            ThreePointArc((-2.3774402326, -1.2797569848), (-2.5906310288, -0.7606779035), (-2.6919188572, -0.2087411462))
            ThreePointArc((-2.6919188572, -0.2087411462), (-2.704851233, -0.2533500879), (-2.7439662444, -0.2783944468))
            ThreePointArc((-2.7439662444, -0.2783944468), (-3.3033105094, -0.4899172508), (-3.7739919791, -0.8587896644))
            ThreePointArc((-3.7739919791, -0.8587896644), (-3.789714393, -0.8871395309), (-3.7900418845, -0.9195556068))
            ThreePointArc((-3.7900418845, -0.9195556068), (-3.7420225971, -1.0987569717), (-3.6855354198, -1.2754719398))
            ThreePointArc((-3.6855354198, -1.2754719398), (-3.6677344627, -1.3025650229), (-3.6391808315, -1.3179142695))
            ThreePointArc((-3.6391808315, -1.3179142695), (-3.043790899, -1.3737598761), (-2.4588826984, -1.2492998415))
            ThreePointArc((-2.4588826984, -1.2492998415), (-2.4124370542, -1.2492213252), (-2.3774402326, -1.2797569848))
        make_face()
        with BuildLine():
            ThreePointArc((0.1149463195, -2.7556562852), (0.1341691164, -2.7133752243), (0.1764835345, -2.6942259671))
            ThreePointArc((0.1764835345, -2.6942259671), (-0.3842500633, -2.6725178931), (-0.9283858818, -2.5353697274))
            ThreePointArc((-0.9283858818, -2.5353697274), (-0.8931804641, -2.5656646543), (-0.8866482769, -2.6116487228))
            ThreePointArc((-0.8866482769, -2.6116487228), (-0.9266003718, -3.2083159111), (-0.786590371, -3.789697974))
            ThreePointArc((-0.786590371, -3.789697974), (-0.7673337522, -3.8157765449), (-0.7379830973, -3.8295405662))
            ThreePointArc((-0.7379830973, -3.8295405662), (-0.5550278693, -3.8603036233), (-0.3708166587, -3.8823311303))
            ThreePointArc((-0.3708166587, -3.8823311303), (-0.3387771387, -3.8773936836), (-0.3129533658, -3.8577966946))
            ThreePointArc((-0.3129533658, -3.8577966946), (-0.0148204986, -3.3394100657), (0.1149463195, -2.7556562852))
        make_face()
        with BuildLine():
            ThreePointArc((-1.3081411324, -2.3619413155), (-1.7681239817, -2.0405238508), (-2.1517322648, -1.6309654382))
            ThreePointArc((-2.1517322648, -1.6309654382), (-2.1384942569, -1.6754846382), (-2.1578598957, -1.7177004654))
            ThreePointArc((-2.1578598957, -1.7177004654), (-2.5140523732, -2.1980491121), (-2.7105873391, -2.7628339478))
            ThreePointArc((-2.7105873391, -2.7628339478), (-2.7084867804, -2.7951835518), (-2.69123683, -2.8226307454))
            ThreePointArc((-2.69123683, -2.8226307454), (-2.5539568624, -2.94742334), (-2.4108975001, -3.0655461575))
            ThreePointArc((-2.4108975001, -3.0655461575), (-2.3812747555, -3.0787143854), (-2.3489554831, -3.0761897348))
            ThreePointArc((-2.3489554831, -3.0761897348), (-1.8178891846, -2.8012779489), (-1.3931212693, -2.3803502573))
            ThreePointArc((-1.3931212693, -2.3803502573), (-1.3540911561, -2.3551737941), (-1.3081411324, -2.3619413155))
        make_face()
    extrude(amount=F1_DEPTH, both=True)


solid = f1.part
